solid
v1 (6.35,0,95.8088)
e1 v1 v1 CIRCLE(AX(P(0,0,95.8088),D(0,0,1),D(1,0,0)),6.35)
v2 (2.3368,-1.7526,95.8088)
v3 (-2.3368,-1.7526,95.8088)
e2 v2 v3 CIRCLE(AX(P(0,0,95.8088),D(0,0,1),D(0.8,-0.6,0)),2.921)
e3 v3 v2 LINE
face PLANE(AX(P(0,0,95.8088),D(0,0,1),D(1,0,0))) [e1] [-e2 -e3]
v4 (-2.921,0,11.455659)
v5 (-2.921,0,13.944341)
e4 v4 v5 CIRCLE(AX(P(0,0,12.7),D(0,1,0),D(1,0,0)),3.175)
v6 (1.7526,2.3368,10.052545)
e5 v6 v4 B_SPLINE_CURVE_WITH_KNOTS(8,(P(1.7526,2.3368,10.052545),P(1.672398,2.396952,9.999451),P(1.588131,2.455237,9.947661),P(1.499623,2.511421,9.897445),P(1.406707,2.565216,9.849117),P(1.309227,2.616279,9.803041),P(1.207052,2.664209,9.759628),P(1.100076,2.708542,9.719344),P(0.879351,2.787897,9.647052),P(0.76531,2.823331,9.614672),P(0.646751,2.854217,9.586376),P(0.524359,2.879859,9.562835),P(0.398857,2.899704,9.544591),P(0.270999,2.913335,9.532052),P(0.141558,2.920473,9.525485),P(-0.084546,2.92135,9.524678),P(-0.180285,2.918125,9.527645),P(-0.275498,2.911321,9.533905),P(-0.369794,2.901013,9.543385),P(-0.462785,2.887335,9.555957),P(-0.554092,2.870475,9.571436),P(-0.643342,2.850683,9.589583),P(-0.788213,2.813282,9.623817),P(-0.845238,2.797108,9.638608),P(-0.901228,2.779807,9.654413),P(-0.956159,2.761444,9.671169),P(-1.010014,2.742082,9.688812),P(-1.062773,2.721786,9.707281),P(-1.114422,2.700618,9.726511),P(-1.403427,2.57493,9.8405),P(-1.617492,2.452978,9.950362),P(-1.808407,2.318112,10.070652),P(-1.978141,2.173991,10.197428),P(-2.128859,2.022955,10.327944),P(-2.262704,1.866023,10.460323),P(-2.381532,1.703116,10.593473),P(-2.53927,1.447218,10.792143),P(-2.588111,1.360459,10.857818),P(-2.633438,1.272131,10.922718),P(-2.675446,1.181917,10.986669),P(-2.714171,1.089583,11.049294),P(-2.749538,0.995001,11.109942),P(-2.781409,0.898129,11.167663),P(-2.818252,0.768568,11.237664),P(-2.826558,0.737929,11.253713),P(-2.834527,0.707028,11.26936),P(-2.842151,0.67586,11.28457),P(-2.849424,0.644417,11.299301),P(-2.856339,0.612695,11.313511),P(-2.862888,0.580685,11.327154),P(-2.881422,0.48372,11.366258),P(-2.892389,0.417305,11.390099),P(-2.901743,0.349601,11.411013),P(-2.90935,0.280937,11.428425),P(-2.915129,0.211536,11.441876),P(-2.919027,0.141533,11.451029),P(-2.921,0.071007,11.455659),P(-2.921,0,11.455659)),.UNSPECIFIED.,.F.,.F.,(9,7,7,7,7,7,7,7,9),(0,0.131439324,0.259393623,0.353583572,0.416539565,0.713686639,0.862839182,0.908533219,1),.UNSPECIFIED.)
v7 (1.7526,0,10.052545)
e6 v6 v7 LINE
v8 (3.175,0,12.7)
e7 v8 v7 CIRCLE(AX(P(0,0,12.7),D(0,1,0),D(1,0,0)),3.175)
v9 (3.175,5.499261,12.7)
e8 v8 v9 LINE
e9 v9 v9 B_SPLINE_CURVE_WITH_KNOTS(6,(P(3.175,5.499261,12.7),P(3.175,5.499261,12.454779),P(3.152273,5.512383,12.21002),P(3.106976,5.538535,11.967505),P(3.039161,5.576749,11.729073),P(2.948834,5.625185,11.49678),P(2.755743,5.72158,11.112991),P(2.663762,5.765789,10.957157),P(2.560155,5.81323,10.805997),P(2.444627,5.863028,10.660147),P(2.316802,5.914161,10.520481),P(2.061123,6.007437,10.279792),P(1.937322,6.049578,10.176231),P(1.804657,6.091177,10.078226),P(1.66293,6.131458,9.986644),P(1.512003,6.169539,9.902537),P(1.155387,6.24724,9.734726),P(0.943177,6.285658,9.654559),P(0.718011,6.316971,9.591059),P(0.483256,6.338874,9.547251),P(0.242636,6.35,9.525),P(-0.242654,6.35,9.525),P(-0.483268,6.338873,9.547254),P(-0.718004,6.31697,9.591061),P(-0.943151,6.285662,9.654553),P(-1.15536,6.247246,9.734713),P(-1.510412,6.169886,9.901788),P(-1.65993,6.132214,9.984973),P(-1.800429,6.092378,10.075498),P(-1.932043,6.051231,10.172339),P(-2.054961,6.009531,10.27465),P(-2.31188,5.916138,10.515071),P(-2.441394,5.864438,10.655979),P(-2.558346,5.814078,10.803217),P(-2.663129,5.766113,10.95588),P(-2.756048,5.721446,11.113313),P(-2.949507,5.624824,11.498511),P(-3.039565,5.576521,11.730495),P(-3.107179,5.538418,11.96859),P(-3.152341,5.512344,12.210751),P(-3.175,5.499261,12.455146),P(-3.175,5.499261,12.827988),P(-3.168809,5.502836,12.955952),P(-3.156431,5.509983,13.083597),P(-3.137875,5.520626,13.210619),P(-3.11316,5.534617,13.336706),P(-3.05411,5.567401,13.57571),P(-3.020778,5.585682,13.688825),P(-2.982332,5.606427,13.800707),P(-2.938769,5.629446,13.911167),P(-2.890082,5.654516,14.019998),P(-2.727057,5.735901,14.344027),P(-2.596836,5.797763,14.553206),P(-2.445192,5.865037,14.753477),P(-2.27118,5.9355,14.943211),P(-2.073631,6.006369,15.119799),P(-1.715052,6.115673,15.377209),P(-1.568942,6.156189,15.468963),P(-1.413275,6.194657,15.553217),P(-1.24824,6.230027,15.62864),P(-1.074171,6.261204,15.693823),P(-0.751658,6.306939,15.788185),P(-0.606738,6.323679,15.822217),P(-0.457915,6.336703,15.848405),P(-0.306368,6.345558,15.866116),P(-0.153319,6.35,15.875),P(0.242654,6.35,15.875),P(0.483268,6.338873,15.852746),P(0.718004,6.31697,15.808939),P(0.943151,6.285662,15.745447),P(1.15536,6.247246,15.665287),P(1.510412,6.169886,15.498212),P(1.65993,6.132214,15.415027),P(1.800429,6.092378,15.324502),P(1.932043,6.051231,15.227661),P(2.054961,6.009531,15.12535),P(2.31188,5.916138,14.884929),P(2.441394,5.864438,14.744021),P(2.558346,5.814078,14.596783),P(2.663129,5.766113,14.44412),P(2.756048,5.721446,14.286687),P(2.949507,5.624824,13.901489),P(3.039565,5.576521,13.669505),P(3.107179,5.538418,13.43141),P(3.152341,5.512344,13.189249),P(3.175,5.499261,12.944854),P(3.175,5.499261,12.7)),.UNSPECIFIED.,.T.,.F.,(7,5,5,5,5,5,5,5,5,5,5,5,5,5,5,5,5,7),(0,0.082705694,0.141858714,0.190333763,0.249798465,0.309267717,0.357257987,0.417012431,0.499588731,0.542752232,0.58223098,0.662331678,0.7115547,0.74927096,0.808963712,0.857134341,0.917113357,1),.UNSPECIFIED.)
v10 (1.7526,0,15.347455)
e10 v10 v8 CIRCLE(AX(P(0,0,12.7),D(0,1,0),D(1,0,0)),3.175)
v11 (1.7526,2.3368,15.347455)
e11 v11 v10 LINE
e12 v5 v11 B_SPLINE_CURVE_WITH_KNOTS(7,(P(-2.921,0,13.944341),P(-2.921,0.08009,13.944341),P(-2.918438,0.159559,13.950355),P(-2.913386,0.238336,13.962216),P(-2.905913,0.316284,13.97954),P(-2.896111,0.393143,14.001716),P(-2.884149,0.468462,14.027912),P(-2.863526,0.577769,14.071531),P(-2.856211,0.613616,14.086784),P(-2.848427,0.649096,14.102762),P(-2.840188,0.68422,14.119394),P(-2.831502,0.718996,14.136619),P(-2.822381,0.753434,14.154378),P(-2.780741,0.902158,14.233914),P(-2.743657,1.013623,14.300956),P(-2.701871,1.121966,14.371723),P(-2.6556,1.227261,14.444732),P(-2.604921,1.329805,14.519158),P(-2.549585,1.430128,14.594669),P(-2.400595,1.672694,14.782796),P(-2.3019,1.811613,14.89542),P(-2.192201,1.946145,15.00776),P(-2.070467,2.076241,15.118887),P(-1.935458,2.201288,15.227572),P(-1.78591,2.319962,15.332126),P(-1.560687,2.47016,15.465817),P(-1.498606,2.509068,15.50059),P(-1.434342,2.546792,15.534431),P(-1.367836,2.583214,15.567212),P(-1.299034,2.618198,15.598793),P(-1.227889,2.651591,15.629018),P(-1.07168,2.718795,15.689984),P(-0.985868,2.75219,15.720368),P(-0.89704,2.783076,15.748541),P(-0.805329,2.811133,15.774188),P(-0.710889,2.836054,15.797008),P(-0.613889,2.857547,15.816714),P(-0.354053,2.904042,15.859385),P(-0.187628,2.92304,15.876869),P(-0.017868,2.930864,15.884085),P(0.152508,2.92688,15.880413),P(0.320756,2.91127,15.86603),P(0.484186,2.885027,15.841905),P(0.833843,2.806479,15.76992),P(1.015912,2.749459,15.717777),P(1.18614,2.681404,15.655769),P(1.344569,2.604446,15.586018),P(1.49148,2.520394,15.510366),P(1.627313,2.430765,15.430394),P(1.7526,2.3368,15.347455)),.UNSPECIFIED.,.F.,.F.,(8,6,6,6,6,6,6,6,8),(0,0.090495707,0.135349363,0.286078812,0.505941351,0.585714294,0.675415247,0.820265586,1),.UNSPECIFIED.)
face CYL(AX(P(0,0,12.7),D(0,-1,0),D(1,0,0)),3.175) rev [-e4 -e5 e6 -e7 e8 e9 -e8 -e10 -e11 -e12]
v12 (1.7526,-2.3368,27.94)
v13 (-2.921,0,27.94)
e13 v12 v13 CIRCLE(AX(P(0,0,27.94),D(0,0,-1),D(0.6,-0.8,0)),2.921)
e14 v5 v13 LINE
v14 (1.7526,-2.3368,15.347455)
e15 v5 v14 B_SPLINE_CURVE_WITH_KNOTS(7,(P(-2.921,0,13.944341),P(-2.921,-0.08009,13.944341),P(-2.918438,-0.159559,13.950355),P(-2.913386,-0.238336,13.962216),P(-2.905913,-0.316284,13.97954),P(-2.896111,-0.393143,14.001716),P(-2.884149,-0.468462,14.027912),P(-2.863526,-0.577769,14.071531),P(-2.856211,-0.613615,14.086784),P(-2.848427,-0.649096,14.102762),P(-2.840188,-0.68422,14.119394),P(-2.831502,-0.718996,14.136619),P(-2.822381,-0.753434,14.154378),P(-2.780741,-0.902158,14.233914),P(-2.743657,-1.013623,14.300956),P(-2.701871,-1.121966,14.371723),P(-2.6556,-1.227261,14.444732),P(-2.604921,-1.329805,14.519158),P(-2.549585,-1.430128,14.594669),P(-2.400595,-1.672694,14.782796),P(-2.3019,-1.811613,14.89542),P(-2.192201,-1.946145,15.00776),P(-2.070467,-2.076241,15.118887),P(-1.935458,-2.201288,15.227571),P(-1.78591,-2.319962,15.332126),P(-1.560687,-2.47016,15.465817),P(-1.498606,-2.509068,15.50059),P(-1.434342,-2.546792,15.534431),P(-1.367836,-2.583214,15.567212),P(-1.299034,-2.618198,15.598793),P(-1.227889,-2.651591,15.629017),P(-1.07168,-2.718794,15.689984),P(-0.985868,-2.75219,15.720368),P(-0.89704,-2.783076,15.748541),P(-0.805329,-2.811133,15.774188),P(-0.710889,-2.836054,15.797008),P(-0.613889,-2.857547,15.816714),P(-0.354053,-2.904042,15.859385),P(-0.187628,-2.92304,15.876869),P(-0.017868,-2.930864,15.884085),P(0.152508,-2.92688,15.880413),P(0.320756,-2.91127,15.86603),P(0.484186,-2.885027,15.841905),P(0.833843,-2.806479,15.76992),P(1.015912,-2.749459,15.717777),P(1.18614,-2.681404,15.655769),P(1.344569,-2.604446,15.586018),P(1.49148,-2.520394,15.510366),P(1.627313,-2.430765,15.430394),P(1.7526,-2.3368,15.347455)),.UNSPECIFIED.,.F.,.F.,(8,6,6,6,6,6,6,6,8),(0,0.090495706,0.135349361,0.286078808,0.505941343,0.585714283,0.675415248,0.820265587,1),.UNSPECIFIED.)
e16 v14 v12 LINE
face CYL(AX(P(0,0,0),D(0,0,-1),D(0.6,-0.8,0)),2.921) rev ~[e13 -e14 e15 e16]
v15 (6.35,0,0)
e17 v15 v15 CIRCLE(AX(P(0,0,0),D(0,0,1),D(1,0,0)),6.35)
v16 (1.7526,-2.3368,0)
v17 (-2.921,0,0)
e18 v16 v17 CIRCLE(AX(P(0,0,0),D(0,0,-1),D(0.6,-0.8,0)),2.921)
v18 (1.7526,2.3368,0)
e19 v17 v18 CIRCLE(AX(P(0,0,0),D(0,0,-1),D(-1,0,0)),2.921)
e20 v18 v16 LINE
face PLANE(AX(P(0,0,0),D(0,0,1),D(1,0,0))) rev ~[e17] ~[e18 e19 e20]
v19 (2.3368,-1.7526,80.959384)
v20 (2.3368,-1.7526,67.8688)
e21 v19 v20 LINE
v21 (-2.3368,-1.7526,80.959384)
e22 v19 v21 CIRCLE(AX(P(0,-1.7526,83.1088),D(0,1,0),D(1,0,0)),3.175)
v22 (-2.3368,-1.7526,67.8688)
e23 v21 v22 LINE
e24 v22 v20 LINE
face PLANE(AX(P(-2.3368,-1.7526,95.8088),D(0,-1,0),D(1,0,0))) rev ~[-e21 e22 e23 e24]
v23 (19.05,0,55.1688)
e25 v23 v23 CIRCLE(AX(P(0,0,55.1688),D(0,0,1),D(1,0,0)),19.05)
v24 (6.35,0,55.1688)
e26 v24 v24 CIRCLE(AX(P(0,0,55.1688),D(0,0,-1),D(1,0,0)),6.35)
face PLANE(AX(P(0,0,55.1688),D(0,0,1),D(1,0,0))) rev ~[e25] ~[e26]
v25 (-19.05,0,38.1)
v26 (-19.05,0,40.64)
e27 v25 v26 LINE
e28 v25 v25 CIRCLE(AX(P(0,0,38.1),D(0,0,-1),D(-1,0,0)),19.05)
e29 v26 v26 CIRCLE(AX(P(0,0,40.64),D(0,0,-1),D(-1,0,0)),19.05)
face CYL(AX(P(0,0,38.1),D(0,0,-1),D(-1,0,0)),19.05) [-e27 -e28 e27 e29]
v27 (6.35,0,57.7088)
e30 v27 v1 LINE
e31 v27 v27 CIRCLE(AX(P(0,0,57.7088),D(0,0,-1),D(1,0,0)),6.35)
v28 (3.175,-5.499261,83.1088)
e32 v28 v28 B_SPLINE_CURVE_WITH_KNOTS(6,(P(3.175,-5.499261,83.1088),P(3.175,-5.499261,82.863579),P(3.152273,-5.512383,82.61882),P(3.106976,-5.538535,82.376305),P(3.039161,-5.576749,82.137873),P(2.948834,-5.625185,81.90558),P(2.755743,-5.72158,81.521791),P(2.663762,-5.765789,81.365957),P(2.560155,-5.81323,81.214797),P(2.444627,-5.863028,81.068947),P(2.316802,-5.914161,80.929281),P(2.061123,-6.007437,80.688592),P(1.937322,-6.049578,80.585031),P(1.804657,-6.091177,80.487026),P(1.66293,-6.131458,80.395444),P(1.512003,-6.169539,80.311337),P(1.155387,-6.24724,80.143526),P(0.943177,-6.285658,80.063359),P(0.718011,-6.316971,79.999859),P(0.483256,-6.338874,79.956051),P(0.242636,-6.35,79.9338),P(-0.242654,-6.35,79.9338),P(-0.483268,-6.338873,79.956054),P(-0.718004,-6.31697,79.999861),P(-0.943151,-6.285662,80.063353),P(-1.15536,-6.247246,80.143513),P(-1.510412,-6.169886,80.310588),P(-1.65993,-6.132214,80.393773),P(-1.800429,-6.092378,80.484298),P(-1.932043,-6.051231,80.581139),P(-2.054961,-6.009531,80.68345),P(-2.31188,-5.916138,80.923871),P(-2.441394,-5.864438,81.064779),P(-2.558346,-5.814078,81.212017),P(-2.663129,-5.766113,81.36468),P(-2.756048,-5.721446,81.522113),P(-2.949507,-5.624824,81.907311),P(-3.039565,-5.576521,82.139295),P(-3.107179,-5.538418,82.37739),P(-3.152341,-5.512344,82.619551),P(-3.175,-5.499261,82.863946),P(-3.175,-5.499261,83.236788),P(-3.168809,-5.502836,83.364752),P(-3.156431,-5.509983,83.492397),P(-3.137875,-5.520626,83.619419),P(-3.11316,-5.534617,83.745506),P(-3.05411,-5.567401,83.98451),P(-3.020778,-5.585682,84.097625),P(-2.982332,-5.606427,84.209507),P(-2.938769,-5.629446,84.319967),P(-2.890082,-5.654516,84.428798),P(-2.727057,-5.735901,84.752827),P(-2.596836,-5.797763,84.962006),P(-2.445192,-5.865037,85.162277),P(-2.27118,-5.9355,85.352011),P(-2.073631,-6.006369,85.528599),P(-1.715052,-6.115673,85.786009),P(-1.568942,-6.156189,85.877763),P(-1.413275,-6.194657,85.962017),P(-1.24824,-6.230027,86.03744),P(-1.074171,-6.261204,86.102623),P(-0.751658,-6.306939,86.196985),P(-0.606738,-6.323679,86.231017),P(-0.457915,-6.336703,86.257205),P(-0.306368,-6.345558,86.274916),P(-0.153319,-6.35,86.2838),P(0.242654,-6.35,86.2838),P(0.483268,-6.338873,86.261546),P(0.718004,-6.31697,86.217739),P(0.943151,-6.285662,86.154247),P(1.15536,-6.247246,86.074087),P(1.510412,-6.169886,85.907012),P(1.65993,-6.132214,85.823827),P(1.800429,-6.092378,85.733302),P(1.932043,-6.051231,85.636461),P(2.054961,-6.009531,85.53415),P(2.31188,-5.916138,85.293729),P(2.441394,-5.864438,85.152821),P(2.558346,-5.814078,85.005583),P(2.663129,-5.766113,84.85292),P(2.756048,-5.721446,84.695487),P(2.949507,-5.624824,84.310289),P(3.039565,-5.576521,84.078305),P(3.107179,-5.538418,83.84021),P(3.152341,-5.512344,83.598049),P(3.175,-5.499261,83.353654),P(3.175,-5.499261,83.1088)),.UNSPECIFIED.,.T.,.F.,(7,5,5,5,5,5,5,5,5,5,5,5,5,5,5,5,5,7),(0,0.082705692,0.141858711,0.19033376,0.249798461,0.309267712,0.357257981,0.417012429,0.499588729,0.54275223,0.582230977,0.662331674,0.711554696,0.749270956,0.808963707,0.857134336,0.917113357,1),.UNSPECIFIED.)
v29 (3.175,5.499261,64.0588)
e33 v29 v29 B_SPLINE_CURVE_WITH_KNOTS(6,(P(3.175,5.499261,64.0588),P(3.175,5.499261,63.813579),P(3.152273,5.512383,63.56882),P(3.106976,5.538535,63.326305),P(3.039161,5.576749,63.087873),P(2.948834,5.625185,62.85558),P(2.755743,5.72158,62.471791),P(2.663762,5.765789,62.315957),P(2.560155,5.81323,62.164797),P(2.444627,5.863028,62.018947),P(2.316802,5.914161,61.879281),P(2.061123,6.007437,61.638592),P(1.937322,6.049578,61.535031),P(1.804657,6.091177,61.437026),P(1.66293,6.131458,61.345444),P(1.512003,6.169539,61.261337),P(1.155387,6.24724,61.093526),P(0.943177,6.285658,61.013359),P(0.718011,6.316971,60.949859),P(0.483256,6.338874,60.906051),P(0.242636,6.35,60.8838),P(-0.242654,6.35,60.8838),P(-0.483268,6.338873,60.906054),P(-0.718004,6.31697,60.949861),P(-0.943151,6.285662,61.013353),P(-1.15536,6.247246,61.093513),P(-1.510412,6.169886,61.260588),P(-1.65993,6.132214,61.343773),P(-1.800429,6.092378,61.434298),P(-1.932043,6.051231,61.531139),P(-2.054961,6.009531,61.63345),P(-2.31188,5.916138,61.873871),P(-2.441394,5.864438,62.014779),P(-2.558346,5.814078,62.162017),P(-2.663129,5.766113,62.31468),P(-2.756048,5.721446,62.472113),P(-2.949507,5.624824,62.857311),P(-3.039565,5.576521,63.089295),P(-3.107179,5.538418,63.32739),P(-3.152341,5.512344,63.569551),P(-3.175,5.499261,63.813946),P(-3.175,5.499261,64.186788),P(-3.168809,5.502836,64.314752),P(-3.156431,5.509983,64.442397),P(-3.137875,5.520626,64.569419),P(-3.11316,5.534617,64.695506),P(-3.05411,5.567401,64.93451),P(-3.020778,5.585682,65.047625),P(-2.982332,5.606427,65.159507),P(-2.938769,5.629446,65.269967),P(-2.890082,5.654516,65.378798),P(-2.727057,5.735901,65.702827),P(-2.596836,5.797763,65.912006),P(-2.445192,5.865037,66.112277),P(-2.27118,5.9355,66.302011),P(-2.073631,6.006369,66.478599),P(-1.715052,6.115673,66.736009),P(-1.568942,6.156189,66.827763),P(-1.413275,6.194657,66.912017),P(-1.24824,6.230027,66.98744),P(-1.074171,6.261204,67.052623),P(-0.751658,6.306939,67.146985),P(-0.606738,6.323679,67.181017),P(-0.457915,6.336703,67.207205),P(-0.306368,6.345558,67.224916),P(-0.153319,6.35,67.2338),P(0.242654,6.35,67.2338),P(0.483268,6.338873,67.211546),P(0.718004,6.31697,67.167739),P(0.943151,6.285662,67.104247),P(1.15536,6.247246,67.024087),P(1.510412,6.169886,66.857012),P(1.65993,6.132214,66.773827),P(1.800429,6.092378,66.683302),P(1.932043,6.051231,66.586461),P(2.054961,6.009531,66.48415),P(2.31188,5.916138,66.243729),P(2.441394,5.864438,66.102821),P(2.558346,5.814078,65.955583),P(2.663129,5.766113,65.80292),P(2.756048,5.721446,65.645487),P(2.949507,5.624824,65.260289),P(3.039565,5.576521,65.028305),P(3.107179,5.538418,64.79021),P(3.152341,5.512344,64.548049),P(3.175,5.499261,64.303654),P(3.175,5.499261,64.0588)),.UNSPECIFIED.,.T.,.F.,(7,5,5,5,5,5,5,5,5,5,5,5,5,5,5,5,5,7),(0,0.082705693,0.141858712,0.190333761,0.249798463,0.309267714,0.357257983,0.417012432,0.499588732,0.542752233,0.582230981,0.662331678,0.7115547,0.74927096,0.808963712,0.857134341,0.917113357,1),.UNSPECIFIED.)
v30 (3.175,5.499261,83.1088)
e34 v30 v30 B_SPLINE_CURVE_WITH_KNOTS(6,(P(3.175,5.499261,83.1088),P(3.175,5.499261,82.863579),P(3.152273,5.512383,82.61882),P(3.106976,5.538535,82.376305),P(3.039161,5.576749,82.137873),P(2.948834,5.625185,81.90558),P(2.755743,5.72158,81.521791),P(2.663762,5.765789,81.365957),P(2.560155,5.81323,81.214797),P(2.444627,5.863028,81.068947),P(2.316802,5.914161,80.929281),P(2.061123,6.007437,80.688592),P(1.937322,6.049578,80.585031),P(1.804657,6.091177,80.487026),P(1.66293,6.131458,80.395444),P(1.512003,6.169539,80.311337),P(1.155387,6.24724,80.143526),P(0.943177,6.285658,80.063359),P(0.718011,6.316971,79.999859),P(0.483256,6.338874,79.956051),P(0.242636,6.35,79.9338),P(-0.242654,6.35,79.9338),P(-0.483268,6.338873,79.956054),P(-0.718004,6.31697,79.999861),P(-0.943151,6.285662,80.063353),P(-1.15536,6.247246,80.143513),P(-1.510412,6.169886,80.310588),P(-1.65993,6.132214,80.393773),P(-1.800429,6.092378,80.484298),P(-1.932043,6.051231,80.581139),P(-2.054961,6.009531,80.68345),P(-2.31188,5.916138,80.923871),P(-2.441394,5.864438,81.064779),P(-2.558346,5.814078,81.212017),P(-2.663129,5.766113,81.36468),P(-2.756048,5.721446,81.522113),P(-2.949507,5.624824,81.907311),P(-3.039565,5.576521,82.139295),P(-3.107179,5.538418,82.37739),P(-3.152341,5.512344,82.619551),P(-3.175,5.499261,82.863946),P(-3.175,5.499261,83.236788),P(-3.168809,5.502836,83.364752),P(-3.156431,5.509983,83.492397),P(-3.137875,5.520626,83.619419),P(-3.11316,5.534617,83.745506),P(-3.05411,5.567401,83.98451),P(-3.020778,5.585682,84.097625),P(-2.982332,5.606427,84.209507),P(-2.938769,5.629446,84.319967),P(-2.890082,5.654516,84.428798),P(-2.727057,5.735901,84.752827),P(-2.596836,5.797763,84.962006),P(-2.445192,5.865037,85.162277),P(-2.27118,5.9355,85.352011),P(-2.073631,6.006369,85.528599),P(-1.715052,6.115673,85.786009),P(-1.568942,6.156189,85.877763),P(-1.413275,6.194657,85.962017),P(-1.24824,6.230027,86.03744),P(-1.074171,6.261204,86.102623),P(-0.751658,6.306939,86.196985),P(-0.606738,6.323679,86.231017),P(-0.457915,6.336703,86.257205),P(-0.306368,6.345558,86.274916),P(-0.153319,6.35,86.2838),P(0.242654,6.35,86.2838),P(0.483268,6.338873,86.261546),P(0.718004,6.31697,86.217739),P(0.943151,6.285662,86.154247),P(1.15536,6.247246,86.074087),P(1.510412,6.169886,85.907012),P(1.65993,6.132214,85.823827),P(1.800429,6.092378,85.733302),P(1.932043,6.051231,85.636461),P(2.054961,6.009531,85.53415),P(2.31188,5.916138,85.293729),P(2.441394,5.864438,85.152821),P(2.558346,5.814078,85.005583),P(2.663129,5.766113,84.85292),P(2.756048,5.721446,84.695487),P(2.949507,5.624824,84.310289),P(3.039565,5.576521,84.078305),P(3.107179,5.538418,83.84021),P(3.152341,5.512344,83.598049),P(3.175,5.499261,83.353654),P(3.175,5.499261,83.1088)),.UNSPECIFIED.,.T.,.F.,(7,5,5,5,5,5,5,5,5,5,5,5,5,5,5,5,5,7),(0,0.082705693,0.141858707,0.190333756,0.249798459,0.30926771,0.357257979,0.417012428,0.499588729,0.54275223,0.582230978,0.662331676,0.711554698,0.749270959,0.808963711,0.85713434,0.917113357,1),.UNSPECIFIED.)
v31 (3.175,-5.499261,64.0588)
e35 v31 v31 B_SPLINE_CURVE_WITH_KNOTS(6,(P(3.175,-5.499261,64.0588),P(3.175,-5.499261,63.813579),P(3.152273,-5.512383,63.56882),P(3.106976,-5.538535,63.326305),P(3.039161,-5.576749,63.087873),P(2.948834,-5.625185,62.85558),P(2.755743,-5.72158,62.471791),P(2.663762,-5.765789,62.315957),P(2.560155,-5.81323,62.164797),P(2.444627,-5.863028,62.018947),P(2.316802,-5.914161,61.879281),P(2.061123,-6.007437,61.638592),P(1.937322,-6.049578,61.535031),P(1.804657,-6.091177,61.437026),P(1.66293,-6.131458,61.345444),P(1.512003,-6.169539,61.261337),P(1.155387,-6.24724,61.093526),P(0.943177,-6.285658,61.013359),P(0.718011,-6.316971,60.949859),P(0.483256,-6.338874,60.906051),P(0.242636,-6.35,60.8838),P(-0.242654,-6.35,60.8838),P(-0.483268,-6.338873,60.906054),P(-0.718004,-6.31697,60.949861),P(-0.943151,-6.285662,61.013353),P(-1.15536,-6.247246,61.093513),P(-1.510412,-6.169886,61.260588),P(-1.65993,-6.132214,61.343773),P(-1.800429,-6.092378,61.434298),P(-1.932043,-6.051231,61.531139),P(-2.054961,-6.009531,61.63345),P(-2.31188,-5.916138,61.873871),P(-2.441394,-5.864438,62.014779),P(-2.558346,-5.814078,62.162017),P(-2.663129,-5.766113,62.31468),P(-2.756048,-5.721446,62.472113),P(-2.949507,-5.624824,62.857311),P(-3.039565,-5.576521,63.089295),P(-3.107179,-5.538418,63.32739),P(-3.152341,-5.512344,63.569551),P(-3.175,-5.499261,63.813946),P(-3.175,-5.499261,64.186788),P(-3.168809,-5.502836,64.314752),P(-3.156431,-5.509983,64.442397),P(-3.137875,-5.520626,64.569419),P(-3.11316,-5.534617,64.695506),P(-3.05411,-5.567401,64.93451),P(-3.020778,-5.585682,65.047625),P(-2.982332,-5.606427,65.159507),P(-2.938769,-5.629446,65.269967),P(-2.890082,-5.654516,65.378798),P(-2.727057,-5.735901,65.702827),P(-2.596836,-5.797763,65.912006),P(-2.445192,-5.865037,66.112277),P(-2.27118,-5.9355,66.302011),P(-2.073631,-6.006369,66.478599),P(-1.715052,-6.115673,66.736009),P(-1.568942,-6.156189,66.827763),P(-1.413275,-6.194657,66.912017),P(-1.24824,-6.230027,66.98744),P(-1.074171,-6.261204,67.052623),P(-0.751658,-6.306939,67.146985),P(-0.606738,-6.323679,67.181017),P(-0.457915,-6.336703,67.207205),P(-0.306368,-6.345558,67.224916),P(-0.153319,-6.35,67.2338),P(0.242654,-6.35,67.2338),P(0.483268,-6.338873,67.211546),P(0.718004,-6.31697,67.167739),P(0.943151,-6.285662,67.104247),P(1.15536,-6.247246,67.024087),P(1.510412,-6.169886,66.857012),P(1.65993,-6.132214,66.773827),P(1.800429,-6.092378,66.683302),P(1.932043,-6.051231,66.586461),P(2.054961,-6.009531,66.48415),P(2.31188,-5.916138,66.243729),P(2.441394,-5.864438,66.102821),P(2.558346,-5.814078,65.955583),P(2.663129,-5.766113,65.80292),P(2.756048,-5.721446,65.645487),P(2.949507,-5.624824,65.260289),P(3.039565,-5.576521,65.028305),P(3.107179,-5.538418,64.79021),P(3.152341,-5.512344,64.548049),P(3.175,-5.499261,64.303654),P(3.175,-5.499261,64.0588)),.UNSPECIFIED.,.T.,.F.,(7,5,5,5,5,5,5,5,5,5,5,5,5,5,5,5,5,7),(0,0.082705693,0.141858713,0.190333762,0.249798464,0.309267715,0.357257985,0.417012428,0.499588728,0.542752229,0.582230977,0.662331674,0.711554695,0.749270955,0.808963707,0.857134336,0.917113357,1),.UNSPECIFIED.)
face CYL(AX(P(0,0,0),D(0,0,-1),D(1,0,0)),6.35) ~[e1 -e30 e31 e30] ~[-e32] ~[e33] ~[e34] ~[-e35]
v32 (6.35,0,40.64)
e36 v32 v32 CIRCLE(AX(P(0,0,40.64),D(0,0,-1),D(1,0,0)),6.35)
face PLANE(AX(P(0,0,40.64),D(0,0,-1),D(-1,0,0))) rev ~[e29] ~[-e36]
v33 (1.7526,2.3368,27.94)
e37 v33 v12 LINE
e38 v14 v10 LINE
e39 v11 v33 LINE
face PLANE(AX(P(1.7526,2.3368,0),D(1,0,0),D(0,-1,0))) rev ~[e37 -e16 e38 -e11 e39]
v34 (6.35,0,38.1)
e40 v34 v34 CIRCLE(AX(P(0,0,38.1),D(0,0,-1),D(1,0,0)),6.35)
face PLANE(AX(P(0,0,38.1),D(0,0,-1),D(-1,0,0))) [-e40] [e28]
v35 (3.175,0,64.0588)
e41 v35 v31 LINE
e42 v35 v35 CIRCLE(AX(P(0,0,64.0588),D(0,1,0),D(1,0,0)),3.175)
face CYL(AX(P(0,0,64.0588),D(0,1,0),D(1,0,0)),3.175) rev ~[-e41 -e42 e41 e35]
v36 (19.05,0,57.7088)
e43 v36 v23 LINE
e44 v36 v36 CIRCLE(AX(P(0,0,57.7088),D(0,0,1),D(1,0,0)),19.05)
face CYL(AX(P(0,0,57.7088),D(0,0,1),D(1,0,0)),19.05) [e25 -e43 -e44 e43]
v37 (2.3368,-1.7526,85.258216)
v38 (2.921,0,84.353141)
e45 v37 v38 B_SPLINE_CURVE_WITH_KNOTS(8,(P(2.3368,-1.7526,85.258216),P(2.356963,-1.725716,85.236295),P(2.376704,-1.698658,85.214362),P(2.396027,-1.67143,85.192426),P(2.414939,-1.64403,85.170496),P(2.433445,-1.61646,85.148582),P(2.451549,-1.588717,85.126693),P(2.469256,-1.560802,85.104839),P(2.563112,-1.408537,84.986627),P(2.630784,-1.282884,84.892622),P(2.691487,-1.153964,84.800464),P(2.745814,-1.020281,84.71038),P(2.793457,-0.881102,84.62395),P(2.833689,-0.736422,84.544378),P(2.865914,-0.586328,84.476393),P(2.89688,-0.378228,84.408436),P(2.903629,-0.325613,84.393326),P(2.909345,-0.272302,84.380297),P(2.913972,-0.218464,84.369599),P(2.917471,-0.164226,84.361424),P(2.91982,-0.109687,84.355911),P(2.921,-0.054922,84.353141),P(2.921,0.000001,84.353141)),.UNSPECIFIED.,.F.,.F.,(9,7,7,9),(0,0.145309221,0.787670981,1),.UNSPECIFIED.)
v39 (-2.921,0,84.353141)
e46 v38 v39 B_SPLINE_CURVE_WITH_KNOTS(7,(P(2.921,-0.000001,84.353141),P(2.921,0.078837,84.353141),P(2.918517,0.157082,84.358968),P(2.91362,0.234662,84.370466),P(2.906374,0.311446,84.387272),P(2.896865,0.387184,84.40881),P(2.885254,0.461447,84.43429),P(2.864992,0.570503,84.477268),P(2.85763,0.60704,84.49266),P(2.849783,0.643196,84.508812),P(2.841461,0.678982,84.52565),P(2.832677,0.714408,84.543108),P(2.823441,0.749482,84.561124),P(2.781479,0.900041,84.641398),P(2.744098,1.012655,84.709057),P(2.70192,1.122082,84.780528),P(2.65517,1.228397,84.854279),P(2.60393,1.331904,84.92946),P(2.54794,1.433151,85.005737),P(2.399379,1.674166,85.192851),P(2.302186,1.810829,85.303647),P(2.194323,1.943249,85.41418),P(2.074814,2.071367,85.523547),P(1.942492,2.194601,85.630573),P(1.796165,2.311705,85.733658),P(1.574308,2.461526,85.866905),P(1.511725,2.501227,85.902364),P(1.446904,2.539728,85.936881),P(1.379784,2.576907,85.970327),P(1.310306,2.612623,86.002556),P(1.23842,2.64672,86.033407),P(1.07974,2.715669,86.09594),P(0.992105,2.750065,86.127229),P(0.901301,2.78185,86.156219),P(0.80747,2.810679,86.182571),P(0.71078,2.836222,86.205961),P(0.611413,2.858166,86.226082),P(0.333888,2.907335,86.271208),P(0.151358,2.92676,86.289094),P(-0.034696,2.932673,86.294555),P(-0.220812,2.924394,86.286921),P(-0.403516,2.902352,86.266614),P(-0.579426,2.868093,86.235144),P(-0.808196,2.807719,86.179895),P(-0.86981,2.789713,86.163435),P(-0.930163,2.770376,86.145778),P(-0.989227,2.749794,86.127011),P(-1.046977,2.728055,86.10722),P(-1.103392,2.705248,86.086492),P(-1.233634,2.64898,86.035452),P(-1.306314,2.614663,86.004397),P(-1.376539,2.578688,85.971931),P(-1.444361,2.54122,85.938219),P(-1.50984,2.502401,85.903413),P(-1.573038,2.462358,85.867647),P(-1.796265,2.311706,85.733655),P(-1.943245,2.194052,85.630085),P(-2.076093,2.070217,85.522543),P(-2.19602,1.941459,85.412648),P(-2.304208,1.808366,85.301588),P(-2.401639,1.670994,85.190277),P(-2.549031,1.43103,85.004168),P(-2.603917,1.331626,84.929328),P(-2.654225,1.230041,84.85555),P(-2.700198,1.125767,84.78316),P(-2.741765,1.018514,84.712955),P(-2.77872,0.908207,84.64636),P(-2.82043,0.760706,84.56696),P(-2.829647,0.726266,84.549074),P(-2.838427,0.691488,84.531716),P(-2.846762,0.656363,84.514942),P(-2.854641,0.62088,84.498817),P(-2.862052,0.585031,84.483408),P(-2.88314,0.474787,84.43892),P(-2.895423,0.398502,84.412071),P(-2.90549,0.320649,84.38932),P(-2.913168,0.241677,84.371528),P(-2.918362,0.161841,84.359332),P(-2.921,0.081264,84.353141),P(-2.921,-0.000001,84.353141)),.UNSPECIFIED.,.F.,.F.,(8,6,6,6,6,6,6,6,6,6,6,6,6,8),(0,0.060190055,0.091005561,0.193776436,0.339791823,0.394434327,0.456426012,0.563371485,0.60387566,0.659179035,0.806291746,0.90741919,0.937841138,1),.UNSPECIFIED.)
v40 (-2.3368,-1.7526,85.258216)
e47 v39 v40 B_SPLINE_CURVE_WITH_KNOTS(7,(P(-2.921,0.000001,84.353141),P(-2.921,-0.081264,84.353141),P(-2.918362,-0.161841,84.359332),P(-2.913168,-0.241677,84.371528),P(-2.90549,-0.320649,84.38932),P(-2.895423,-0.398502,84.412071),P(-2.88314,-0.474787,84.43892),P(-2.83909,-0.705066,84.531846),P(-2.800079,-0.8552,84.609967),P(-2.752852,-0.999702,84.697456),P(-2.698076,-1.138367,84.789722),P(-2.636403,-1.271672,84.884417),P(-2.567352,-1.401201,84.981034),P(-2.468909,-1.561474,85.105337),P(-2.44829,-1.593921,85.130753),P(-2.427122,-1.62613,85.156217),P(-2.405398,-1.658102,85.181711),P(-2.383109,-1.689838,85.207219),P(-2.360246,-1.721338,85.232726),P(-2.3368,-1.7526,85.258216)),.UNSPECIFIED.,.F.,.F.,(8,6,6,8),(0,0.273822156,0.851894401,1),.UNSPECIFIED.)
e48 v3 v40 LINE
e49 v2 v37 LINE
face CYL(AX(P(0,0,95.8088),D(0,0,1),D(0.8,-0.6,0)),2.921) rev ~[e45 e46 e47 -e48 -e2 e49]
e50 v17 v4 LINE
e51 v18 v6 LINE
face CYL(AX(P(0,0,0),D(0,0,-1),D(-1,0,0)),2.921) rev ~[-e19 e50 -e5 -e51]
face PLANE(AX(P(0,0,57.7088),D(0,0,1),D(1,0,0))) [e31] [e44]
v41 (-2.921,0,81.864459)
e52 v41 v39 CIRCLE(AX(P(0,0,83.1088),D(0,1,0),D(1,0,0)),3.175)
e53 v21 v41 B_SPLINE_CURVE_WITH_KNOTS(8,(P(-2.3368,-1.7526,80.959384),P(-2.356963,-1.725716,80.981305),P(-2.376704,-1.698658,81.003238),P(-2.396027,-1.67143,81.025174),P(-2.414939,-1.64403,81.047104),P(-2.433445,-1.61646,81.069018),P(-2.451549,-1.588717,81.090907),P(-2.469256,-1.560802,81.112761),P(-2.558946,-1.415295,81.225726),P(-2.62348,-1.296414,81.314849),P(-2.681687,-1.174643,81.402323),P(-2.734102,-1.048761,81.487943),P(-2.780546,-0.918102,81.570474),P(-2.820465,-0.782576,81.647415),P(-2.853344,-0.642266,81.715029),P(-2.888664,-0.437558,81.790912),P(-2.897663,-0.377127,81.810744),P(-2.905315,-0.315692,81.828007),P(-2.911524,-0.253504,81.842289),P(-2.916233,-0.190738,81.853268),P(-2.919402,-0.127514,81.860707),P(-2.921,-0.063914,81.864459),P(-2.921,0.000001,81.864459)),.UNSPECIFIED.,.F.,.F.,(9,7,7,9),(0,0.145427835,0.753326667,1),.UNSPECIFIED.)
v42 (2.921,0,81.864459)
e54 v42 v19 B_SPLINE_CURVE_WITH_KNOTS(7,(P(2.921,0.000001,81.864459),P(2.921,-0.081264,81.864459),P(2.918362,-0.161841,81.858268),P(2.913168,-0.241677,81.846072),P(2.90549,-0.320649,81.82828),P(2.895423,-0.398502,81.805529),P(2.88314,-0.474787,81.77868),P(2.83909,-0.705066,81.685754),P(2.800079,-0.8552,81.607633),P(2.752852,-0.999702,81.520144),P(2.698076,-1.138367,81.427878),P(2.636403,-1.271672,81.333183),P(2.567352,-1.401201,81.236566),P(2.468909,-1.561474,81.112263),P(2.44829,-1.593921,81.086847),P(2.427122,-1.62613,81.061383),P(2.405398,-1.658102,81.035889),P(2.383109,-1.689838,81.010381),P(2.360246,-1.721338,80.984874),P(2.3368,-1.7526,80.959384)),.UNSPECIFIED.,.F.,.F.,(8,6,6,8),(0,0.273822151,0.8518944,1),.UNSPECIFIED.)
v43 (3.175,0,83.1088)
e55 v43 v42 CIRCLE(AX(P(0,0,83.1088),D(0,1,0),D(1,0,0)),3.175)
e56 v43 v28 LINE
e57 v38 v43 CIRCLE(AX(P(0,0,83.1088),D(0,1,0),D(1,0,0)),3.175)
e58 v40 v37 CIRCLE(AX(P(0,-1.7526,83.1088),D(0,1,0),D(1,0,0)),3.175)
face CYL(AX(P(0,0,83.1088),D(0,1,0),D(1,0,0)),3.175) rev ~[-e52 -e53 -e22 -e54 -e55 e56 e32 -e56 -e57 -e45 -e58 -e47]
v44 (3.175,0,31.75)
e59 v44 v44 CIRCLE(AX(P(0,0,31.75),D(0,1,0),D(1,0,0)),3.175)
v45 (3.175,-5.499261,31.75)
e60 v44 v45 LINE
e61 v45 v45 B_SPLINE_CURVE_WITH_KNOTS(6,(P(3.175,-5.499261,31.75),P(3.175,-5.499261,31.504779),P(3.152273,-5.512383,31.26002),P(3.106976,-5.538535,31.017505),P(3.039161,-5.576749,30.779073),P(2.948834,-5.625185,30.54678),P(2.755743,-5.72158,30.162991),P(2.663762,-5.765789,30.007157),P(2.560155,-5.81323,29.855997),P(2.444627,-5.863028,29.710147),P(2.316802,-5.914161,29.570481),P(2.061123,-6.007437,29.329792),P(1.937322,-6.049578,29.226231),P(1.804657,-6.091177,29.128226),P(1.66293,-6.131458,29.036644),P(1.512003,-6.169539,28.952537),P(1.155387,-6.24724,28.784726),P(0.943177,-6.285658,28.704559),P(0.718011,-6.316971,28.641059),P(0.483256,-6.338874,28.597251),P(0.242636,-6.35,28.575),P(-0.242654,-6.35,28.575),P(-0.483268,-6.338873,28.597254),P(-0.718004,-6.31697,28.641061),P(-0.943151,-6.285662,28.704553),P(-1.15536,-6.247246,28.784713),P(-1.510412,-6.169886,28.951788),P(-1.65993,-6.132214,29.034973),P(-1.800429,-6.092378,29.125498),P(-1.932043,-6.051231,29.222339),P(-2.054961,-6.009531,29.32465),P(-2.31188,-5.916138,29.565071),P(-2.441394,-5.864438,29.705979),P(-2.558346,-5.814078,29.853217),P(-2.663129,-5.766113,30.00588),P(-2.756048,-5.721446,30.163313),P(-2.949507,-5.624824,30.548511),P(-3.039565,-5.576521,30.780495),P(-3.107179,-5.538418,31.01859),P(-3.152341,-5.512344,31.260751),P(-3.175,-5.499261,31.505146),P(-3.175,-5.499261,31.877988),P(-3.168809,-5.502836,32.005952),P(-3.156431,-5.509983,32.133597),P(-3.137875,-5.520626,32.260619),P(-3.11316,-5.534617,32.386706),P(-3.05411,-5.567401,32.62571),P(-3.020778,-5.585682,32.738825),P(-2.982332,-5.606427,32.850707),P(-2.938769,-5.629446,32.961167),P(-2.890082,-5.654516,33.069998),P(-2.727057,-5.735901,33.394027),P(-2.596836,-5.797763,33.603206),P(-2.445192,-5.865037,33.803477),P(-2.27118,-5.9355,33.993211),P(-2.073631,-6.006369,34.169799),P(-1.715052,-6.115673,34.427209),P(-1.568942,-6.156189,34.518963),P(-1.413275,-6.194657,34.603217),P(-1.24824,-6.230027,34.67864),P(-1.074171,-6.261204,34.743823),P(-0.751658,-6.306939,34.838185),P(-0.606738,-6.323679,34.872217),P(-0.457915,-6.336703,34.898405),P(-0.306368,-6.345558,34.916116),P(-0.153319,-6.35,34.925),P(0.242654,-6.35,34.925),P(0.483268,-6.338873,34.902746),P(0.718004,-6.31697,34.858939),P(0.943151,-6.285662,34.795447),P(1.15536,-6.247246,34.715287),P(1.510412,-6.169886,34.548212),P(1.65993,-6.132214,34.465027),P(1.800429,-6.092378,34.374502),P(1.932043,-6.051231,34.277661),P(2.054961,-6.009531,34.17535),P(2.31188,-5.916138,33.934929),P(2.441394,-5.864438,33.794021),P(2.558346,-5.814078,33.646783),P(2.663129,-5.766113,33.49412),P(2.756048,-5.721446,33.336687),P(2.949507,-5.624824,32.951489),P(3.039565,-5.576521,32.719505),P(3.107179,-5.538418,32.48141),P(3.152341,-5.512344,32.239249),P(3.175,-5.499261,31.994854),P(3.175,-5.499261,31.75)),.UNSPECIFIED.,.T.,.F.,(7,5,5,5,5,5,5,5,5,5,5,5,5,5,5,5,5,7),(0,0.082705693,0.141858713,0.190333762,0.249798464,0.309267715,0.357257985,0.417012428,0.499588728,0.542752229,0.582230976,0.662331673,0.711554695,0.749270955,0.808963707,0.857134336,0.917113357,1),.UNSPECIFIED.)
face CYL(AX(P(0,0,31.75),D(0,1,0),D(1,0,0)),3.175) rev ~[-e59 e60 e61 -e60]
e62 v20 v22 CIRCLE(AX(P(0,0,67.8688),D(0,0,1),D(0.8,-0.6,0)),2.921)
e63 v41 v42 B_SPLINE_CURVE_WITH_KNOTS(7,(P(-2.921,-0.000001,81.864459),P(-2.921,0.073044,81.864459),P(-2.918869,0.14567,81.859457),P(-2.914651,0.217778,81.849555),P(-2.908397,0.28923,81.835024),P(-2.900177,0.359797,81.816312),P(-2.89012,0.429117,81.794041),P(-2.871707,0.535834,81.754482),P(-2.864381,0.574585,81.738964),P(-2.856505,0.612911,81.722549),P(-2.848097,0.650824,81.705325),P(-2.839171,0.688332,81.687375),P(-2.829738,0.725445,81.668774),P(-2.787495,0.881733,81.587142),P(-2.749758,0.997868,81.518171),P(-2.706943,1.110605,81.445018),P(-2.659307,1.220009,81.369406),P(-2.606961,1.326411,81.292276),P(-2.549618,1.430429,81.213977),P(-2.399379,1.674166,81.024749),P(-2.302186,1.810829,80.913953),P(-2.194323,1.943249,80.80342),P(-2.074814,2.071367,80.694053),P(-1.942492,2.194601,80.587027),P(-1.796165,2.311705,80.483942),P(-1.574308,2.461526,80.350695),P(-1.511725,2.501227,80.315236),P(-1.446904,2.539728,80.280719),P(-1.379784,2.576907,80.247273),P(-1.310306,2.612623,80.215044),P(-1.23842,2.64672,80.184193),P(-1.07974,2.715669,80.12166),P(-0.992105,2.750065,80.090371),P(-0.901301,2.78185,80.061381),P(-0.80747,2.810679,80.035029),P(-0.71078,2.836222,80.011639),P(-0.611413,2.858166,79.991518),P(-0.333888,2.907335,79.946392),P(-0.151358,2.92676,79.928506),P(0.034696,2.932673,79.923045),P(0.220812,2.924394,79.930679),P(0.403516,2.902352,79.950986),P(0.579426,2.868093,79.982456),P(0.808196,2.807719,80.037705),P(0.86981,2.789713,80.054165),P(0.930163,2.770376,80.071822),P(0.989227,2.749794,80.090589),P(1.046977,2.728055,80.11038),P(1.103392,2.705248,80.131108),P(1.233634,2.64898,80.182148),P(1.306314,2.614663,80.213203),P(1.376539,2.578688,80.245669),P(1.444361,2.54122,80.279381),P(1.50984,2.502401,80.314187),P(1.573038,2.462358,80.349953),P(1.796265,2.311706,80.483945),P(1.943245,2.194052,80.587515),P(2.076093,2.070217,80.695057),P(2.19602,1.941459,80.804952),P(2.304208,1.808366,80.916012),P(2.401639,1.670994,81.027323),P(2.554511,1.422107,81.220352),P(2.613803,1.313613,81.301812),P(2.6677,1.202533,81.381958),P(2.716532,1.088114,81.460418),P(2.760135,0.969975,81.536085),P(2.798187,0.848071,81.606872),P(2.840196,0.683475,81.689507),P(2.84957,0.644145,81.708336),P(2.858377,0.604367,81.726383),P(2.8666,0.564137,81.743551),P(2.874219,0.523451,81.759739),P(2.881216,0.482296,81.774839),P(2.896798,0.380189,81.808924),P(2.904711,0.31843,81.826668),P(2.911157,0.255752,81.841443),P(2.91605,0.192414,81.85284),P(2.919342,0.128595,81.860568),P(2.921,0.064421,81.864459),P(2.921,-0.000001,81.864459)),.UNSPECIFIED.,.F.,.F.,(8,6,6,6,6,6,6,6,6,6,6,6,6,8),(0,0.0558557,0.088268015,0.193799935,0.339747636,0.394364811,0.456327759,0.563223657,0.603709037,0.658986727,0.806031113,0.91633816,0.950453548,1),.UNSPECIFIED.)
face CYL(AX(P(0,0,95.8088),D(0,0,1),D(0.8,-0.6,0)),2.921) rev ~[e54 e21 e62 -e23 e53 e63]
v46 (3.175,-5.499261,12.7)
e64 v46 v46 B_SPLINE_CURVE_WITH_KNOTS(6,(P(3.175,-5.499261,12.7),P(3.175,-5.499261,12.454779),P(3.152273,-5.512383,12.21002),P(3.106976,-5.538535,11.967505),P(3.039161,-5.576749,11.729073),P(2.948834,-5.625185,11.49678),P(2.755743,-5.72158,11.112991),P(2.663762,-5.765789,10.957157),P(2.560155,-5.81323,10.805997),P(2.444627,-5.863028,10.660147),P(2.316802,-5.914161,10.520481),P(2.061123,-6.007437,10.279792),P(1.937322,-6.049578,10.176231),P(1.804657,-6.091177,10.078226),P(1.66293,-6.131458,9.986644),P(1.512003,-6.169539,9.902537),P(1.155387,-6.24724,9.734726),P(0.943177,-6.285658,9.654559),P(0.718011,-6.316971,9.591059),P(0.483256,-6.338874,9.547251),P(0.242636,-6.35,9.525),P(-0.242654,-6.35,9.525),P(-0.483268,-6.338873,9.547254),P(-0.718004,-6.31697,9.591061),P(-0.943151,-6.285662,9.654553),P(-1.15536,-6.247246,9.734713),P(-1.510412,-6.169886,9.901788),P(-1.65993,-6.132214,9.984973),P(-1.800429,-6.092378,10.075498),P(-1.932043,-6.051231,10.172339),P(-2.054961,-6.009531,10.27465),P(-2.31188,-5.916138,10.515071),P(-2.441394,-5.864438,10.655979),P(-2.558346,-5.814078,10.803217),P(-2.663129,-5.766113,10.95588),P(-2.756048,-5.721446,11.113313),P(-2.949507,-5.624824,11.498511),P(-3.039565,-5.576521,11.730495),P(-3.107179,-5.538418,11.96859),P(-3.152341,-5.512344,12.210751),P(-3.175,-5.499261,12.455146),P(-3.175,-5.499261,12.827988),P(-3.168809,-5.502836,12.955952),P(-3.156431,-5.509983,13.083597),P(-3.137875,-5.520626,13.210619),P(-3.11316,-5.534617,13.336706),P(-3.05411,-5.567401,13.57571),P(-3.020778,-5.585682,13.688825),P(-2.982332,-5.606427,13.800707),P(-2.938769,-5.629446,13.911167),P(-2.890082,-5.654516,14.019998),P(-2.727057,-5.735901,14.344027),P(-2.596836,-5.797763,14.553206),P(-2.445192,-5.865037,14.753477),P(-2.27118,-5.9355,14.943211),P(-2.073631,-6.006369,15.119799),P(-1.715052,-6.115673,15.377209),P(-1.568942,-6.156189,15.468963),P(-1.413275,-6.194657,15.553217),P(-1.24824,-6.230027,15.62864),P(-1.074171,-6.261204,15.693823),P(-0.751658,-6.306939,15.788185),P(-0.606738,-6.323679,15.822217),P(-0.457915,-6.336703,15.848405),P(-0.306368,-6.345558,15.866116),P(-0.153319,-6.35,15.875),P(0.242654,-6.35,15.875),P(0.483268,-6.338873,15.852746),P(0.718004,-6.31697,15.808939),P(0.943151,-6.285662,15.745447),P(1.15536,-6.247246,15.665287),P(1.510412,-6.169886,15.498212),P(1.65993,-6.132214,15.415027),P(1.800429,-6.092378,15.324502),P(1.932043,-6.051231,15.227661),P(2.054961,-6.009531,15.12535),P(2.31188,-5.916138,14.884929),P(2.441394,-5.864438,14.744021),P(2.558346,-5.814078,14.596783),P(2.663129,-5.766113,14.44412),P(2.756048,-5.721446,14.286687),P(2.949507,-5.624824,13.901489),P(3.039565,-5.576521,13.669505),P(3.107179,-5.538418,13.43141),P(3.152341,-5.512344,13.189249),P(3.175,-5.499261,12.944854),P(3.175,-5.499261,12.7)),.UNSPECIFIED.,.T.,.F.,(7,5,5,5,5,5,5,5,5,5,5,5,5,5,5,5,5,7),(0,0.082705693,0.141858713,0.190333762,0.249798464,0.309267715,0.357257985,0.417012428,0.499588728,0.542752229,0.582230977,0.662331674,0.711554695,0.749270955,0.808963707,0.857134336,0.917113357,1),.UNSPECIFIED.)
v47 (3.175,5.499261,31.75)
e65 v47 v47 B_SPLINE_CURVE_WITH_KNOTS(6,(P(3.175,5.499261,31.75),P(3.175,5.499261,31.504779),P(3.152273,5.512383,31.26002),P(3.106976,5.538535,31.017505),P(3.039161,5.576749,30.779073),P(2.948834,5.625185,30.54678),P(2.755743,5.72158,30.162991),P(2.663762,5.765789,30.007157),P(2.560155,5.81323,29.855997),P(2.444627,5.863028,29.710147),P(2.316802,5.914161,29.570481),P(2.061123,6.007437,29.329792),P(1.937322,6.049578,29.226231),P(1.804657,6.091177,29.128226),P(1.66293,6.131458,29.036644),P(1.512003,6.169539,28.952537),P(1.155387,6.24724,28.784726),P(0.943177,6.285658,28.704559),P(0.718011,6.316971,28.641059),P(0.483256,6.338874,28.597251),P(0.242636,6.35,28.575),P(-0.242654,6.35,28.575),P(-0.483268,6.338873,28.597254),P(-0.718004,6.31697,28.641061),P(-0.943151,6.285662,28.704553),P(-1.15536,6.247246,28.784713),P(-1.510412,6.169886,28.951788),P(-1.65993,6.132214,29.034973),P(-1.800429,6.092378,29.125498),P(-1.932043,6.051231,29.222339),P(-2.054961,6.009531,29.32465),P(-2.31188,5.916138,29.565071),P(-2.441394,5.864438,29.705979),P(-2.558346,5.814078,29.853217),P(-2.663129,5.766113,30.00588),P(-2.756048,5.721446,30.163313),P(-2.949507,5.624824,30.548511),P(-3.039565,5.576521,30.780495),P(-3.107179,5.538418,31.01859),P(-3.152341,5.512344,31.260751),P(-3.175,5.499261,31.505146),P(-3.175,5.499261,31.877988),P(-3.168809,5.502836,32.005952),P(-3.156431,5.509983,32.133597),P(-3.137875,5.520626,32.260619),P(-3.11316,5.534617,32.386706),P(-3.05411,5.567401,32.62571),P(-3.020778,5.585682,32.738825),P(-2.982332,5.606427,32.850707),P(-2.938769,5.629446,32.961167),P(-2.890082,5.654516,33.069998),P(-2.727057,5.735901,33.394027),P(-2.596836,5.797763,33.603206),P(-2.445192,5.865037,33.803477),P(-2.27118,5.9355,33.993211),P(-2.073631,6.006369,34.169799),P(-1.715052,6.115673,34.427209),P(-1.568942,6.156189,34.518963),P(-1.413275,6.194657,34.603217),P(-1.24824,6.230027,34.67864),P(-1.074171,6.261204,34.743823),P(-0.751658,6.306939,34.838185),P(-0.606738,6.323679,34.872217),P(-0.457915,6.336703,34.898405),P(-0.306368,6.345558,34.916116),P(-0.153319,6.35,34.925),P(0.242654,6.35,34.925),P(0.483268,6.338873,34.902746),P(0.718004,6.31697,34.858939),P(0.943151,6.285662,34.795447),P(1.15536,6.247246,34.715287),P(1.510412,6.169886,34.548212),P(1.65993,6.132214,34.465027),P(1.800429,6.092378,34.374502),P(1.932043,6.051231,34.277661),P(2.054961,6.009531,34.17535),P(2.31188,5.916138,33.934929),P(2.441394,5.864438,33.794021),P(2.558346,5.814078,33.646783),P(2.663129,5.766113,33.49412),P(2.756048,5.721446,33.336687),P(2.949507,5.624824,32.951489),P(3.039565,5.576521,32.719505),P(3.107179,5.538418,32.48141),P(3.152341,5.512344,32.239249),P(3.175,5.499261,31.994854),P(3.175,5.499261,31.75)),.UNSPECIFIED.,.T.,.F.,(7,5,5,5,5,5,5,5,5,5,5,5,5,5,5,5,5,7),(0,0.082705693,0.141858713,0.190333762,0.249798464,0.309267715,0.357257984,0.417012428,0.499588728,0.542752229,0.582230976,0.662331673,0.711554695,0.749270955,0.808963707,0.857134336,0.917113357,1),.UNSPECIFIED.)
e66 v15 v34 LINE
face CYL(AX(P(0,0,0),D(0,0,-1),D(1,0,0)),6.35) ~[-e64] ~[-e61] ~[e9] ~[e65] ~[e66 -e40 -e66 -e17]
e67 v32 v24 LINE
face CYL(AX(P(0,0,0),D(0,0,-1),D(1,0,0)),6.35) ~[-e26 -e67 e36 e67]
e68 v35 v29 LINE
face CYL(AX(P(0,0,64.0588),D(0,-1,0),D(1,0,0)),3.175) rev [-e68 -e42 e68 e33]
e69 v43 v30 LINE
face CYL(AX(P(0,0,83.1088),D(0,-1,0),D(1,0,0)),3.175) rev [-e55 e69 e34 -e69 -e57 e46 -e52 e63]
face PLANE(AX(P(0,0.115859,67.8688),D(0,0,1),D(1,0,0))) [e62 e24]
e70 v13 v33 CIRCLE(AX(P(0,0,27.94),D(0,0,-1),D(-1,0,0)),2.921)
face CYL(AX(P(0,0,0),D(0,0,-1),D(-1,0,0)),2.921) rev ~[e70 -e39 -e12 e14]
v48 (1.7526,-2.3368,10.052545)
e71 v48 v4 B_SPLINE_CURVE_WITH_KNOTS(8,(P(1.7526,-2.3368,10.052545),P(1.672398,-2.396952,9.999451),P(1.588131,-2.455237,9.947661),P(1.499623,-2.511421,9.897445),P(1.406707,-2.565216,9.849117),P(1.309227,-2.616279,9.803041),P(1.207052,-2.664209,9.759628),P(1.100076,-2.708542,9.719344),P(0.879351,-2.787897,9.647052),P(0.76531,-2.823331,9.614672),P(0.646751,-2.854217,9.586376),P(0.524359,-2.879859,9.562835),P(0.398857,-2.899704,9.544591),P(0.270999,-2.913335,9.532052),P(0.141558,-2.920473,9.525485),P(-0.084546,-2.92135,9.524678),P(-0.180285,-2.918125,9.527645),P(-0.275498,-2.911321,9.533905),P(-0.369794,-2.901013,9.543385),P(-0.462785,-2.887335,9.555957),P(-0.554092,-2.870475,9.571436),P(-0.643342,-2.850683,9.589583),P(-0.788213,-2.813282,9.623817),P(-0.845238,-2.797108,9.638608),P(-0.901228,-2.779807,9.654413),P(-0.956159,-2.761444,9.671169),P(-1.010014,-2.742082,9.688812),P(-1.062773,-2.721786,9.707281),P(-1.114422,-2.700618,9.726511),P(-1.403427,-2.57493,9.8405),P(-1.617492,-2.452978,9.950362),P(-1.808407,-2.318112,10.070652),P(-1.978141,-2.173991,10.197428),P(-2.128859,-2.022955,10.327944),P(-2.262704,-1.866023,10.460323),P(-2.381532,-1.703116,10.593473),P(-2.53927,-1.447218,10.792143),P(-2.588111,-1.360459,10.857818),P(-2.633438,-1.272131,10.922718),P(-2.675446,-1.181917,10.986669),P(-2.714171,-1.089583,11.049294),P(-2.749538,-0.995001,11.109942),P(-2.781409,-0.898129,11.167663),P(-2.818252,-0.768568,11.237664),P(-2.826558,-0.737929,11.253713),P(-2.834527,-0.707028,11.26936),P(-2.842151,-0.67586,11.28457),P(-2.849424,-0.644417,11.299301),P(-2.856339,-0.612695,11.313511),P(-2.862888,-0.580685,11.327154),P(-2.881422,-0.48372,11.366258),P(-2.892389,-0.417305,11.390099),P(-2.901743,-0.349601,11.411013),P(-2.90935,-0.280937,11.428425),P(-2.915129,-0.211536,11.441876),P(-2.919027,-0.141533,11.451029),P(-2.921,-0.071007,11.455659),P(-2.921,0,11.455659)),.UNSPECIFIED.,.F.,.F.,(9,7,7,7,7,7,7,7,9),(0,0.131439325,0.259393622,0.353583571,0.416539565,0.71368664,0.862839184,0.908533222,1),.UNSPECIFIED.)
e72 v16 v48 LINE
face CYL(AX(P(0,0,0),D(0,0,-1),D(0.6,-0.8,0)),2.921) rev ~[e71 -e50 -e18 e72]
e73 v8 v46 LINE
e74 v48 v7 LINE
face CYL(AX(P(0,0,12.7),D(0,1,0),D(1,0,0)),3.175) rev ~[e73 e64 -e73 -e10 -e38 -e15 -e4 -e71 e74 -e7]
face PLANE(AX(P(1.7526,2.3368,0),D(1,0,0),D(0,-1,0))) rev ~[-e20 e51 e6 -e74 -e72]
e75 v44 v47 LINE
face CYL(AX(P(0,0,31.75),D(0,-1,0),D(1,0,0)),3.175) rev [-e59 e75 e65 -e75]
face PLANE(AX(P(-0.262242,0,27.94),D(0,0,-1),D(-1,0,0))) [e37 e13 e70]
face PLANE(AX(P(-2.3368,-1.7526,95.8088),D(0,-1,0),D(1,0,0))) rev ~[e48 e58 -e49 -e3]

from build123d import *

# Parameters (mm, degrees)
SKETCH1_R               = 6.35
BOSS_EXTRUDE1_DEPTH     = 95.8088
SKETCH4_R               = 3.175
CUT_EXTRUDE2_DEPTH      = 7.35
CUT_EXTRUDE2_DEPTH_BACK = 7.35
SKETCH5_R               = 19.05
BOSS_EXTRUDE2_DEPTH     = 2.54
SKETCH6_R               = 19.05
BOSS_EXTRUDE3_DEPTH     = 2.54
CUT_EXTRUDE4_DEPTH      = 27.94
CUT_EXTRUDE5_DEPTH      = 27.94


with BuildPart() as part:
    # Sketch1 → Boss-Extrude1 (new body)
    with BuildSketch(Plane.XY):
        Circle(SKETCH1_R)
    extrude(amount=BOSS_EXTRUDE1_DEPTH)

    # Sketch4 → Cut-Extrude2 (cut, two sides)
    with BuildSketch(Plane(origin=(0, 0, 0), x_dir=(1, 0, 0), z_dir=(0, 1, 0))) as cut_extrude2_sk:
        with Locations((0, -83.1088)):
            Circle(SKETCH4_R)
        with Locations((0, -12.7)):
            Circle(SKETCH4_R)
        with Locations((0, -64.0588)):
            Circle(SKETCH4_R)
        with Locations((0, -31.75)):
            Circle(SKETCH4_R)
    extrude(amount=CUT_EXTRUDE2_DEPTH, mode=Mode.SUBTRACT)
    extrude(cut_extrude2_sk.sketch, amount=-CUT_EXTRUDE2_DEPTH_BACK, mode=Mode.SUBTRACT)

    # Sketch5 → Boss-Extrude2 (add)
    with BuildSketch(Plane.XY.offset(57.7088)):
        Circle(SKETCH5_R)
    extrude(amount=-BOSS_EXTRUDE2_DEPTH)

    # Sketch6 → Boss-Extrude3 (add)
    with BuildSketch(Plane(origin=(0, 0, 38.1), x_dir=(-1, 0, 0), z_dir=(0, 0, -1))):
        Circle(SKETCH6_R)
    extrude(amount=-BOSS_EXTRUDE3_DEPTH)

    # Sketch2 → Cut-Extrude4 (cut)
    with BuildSketch(Plane.XY.offset(95.8088)):
        with BuildLine():
            Line((-2.3368, -1.7526), (2.3368, -1.7526))
            ThreePointArc((2.3368, -1.7526), (0, 2.921), (-2.3368, -1.7526))
        make_face()
    extrude(amount=-CUT_EXTRUDE4_DEPTH, mode=Mode.SUBTRACT)

    # Sketch7 → Cut-Extrude5 (cut)
    with BuildSketch(Plane(origin=(0, 0, 0), x_dir=(-1, 0, 0), z_dir=(0, 0, -1))):
        with BuildLine():
            Line((-1.7526, 2.3368), (-1.7526, -2.3368))
            ThreePointArc((-1.7526, -2.3368), (1.306310912, -2.612621825), (2.921, 0))
            ThreePointArc((2.921, 0), (1.306310912, 2.612621825), (-1.7526, 2.3368))
        make_face()
    extrude(amount=-CUT_EXTRUDE5_DEPTH, mode=Mode.SUBTRACT)


solid = part.part
